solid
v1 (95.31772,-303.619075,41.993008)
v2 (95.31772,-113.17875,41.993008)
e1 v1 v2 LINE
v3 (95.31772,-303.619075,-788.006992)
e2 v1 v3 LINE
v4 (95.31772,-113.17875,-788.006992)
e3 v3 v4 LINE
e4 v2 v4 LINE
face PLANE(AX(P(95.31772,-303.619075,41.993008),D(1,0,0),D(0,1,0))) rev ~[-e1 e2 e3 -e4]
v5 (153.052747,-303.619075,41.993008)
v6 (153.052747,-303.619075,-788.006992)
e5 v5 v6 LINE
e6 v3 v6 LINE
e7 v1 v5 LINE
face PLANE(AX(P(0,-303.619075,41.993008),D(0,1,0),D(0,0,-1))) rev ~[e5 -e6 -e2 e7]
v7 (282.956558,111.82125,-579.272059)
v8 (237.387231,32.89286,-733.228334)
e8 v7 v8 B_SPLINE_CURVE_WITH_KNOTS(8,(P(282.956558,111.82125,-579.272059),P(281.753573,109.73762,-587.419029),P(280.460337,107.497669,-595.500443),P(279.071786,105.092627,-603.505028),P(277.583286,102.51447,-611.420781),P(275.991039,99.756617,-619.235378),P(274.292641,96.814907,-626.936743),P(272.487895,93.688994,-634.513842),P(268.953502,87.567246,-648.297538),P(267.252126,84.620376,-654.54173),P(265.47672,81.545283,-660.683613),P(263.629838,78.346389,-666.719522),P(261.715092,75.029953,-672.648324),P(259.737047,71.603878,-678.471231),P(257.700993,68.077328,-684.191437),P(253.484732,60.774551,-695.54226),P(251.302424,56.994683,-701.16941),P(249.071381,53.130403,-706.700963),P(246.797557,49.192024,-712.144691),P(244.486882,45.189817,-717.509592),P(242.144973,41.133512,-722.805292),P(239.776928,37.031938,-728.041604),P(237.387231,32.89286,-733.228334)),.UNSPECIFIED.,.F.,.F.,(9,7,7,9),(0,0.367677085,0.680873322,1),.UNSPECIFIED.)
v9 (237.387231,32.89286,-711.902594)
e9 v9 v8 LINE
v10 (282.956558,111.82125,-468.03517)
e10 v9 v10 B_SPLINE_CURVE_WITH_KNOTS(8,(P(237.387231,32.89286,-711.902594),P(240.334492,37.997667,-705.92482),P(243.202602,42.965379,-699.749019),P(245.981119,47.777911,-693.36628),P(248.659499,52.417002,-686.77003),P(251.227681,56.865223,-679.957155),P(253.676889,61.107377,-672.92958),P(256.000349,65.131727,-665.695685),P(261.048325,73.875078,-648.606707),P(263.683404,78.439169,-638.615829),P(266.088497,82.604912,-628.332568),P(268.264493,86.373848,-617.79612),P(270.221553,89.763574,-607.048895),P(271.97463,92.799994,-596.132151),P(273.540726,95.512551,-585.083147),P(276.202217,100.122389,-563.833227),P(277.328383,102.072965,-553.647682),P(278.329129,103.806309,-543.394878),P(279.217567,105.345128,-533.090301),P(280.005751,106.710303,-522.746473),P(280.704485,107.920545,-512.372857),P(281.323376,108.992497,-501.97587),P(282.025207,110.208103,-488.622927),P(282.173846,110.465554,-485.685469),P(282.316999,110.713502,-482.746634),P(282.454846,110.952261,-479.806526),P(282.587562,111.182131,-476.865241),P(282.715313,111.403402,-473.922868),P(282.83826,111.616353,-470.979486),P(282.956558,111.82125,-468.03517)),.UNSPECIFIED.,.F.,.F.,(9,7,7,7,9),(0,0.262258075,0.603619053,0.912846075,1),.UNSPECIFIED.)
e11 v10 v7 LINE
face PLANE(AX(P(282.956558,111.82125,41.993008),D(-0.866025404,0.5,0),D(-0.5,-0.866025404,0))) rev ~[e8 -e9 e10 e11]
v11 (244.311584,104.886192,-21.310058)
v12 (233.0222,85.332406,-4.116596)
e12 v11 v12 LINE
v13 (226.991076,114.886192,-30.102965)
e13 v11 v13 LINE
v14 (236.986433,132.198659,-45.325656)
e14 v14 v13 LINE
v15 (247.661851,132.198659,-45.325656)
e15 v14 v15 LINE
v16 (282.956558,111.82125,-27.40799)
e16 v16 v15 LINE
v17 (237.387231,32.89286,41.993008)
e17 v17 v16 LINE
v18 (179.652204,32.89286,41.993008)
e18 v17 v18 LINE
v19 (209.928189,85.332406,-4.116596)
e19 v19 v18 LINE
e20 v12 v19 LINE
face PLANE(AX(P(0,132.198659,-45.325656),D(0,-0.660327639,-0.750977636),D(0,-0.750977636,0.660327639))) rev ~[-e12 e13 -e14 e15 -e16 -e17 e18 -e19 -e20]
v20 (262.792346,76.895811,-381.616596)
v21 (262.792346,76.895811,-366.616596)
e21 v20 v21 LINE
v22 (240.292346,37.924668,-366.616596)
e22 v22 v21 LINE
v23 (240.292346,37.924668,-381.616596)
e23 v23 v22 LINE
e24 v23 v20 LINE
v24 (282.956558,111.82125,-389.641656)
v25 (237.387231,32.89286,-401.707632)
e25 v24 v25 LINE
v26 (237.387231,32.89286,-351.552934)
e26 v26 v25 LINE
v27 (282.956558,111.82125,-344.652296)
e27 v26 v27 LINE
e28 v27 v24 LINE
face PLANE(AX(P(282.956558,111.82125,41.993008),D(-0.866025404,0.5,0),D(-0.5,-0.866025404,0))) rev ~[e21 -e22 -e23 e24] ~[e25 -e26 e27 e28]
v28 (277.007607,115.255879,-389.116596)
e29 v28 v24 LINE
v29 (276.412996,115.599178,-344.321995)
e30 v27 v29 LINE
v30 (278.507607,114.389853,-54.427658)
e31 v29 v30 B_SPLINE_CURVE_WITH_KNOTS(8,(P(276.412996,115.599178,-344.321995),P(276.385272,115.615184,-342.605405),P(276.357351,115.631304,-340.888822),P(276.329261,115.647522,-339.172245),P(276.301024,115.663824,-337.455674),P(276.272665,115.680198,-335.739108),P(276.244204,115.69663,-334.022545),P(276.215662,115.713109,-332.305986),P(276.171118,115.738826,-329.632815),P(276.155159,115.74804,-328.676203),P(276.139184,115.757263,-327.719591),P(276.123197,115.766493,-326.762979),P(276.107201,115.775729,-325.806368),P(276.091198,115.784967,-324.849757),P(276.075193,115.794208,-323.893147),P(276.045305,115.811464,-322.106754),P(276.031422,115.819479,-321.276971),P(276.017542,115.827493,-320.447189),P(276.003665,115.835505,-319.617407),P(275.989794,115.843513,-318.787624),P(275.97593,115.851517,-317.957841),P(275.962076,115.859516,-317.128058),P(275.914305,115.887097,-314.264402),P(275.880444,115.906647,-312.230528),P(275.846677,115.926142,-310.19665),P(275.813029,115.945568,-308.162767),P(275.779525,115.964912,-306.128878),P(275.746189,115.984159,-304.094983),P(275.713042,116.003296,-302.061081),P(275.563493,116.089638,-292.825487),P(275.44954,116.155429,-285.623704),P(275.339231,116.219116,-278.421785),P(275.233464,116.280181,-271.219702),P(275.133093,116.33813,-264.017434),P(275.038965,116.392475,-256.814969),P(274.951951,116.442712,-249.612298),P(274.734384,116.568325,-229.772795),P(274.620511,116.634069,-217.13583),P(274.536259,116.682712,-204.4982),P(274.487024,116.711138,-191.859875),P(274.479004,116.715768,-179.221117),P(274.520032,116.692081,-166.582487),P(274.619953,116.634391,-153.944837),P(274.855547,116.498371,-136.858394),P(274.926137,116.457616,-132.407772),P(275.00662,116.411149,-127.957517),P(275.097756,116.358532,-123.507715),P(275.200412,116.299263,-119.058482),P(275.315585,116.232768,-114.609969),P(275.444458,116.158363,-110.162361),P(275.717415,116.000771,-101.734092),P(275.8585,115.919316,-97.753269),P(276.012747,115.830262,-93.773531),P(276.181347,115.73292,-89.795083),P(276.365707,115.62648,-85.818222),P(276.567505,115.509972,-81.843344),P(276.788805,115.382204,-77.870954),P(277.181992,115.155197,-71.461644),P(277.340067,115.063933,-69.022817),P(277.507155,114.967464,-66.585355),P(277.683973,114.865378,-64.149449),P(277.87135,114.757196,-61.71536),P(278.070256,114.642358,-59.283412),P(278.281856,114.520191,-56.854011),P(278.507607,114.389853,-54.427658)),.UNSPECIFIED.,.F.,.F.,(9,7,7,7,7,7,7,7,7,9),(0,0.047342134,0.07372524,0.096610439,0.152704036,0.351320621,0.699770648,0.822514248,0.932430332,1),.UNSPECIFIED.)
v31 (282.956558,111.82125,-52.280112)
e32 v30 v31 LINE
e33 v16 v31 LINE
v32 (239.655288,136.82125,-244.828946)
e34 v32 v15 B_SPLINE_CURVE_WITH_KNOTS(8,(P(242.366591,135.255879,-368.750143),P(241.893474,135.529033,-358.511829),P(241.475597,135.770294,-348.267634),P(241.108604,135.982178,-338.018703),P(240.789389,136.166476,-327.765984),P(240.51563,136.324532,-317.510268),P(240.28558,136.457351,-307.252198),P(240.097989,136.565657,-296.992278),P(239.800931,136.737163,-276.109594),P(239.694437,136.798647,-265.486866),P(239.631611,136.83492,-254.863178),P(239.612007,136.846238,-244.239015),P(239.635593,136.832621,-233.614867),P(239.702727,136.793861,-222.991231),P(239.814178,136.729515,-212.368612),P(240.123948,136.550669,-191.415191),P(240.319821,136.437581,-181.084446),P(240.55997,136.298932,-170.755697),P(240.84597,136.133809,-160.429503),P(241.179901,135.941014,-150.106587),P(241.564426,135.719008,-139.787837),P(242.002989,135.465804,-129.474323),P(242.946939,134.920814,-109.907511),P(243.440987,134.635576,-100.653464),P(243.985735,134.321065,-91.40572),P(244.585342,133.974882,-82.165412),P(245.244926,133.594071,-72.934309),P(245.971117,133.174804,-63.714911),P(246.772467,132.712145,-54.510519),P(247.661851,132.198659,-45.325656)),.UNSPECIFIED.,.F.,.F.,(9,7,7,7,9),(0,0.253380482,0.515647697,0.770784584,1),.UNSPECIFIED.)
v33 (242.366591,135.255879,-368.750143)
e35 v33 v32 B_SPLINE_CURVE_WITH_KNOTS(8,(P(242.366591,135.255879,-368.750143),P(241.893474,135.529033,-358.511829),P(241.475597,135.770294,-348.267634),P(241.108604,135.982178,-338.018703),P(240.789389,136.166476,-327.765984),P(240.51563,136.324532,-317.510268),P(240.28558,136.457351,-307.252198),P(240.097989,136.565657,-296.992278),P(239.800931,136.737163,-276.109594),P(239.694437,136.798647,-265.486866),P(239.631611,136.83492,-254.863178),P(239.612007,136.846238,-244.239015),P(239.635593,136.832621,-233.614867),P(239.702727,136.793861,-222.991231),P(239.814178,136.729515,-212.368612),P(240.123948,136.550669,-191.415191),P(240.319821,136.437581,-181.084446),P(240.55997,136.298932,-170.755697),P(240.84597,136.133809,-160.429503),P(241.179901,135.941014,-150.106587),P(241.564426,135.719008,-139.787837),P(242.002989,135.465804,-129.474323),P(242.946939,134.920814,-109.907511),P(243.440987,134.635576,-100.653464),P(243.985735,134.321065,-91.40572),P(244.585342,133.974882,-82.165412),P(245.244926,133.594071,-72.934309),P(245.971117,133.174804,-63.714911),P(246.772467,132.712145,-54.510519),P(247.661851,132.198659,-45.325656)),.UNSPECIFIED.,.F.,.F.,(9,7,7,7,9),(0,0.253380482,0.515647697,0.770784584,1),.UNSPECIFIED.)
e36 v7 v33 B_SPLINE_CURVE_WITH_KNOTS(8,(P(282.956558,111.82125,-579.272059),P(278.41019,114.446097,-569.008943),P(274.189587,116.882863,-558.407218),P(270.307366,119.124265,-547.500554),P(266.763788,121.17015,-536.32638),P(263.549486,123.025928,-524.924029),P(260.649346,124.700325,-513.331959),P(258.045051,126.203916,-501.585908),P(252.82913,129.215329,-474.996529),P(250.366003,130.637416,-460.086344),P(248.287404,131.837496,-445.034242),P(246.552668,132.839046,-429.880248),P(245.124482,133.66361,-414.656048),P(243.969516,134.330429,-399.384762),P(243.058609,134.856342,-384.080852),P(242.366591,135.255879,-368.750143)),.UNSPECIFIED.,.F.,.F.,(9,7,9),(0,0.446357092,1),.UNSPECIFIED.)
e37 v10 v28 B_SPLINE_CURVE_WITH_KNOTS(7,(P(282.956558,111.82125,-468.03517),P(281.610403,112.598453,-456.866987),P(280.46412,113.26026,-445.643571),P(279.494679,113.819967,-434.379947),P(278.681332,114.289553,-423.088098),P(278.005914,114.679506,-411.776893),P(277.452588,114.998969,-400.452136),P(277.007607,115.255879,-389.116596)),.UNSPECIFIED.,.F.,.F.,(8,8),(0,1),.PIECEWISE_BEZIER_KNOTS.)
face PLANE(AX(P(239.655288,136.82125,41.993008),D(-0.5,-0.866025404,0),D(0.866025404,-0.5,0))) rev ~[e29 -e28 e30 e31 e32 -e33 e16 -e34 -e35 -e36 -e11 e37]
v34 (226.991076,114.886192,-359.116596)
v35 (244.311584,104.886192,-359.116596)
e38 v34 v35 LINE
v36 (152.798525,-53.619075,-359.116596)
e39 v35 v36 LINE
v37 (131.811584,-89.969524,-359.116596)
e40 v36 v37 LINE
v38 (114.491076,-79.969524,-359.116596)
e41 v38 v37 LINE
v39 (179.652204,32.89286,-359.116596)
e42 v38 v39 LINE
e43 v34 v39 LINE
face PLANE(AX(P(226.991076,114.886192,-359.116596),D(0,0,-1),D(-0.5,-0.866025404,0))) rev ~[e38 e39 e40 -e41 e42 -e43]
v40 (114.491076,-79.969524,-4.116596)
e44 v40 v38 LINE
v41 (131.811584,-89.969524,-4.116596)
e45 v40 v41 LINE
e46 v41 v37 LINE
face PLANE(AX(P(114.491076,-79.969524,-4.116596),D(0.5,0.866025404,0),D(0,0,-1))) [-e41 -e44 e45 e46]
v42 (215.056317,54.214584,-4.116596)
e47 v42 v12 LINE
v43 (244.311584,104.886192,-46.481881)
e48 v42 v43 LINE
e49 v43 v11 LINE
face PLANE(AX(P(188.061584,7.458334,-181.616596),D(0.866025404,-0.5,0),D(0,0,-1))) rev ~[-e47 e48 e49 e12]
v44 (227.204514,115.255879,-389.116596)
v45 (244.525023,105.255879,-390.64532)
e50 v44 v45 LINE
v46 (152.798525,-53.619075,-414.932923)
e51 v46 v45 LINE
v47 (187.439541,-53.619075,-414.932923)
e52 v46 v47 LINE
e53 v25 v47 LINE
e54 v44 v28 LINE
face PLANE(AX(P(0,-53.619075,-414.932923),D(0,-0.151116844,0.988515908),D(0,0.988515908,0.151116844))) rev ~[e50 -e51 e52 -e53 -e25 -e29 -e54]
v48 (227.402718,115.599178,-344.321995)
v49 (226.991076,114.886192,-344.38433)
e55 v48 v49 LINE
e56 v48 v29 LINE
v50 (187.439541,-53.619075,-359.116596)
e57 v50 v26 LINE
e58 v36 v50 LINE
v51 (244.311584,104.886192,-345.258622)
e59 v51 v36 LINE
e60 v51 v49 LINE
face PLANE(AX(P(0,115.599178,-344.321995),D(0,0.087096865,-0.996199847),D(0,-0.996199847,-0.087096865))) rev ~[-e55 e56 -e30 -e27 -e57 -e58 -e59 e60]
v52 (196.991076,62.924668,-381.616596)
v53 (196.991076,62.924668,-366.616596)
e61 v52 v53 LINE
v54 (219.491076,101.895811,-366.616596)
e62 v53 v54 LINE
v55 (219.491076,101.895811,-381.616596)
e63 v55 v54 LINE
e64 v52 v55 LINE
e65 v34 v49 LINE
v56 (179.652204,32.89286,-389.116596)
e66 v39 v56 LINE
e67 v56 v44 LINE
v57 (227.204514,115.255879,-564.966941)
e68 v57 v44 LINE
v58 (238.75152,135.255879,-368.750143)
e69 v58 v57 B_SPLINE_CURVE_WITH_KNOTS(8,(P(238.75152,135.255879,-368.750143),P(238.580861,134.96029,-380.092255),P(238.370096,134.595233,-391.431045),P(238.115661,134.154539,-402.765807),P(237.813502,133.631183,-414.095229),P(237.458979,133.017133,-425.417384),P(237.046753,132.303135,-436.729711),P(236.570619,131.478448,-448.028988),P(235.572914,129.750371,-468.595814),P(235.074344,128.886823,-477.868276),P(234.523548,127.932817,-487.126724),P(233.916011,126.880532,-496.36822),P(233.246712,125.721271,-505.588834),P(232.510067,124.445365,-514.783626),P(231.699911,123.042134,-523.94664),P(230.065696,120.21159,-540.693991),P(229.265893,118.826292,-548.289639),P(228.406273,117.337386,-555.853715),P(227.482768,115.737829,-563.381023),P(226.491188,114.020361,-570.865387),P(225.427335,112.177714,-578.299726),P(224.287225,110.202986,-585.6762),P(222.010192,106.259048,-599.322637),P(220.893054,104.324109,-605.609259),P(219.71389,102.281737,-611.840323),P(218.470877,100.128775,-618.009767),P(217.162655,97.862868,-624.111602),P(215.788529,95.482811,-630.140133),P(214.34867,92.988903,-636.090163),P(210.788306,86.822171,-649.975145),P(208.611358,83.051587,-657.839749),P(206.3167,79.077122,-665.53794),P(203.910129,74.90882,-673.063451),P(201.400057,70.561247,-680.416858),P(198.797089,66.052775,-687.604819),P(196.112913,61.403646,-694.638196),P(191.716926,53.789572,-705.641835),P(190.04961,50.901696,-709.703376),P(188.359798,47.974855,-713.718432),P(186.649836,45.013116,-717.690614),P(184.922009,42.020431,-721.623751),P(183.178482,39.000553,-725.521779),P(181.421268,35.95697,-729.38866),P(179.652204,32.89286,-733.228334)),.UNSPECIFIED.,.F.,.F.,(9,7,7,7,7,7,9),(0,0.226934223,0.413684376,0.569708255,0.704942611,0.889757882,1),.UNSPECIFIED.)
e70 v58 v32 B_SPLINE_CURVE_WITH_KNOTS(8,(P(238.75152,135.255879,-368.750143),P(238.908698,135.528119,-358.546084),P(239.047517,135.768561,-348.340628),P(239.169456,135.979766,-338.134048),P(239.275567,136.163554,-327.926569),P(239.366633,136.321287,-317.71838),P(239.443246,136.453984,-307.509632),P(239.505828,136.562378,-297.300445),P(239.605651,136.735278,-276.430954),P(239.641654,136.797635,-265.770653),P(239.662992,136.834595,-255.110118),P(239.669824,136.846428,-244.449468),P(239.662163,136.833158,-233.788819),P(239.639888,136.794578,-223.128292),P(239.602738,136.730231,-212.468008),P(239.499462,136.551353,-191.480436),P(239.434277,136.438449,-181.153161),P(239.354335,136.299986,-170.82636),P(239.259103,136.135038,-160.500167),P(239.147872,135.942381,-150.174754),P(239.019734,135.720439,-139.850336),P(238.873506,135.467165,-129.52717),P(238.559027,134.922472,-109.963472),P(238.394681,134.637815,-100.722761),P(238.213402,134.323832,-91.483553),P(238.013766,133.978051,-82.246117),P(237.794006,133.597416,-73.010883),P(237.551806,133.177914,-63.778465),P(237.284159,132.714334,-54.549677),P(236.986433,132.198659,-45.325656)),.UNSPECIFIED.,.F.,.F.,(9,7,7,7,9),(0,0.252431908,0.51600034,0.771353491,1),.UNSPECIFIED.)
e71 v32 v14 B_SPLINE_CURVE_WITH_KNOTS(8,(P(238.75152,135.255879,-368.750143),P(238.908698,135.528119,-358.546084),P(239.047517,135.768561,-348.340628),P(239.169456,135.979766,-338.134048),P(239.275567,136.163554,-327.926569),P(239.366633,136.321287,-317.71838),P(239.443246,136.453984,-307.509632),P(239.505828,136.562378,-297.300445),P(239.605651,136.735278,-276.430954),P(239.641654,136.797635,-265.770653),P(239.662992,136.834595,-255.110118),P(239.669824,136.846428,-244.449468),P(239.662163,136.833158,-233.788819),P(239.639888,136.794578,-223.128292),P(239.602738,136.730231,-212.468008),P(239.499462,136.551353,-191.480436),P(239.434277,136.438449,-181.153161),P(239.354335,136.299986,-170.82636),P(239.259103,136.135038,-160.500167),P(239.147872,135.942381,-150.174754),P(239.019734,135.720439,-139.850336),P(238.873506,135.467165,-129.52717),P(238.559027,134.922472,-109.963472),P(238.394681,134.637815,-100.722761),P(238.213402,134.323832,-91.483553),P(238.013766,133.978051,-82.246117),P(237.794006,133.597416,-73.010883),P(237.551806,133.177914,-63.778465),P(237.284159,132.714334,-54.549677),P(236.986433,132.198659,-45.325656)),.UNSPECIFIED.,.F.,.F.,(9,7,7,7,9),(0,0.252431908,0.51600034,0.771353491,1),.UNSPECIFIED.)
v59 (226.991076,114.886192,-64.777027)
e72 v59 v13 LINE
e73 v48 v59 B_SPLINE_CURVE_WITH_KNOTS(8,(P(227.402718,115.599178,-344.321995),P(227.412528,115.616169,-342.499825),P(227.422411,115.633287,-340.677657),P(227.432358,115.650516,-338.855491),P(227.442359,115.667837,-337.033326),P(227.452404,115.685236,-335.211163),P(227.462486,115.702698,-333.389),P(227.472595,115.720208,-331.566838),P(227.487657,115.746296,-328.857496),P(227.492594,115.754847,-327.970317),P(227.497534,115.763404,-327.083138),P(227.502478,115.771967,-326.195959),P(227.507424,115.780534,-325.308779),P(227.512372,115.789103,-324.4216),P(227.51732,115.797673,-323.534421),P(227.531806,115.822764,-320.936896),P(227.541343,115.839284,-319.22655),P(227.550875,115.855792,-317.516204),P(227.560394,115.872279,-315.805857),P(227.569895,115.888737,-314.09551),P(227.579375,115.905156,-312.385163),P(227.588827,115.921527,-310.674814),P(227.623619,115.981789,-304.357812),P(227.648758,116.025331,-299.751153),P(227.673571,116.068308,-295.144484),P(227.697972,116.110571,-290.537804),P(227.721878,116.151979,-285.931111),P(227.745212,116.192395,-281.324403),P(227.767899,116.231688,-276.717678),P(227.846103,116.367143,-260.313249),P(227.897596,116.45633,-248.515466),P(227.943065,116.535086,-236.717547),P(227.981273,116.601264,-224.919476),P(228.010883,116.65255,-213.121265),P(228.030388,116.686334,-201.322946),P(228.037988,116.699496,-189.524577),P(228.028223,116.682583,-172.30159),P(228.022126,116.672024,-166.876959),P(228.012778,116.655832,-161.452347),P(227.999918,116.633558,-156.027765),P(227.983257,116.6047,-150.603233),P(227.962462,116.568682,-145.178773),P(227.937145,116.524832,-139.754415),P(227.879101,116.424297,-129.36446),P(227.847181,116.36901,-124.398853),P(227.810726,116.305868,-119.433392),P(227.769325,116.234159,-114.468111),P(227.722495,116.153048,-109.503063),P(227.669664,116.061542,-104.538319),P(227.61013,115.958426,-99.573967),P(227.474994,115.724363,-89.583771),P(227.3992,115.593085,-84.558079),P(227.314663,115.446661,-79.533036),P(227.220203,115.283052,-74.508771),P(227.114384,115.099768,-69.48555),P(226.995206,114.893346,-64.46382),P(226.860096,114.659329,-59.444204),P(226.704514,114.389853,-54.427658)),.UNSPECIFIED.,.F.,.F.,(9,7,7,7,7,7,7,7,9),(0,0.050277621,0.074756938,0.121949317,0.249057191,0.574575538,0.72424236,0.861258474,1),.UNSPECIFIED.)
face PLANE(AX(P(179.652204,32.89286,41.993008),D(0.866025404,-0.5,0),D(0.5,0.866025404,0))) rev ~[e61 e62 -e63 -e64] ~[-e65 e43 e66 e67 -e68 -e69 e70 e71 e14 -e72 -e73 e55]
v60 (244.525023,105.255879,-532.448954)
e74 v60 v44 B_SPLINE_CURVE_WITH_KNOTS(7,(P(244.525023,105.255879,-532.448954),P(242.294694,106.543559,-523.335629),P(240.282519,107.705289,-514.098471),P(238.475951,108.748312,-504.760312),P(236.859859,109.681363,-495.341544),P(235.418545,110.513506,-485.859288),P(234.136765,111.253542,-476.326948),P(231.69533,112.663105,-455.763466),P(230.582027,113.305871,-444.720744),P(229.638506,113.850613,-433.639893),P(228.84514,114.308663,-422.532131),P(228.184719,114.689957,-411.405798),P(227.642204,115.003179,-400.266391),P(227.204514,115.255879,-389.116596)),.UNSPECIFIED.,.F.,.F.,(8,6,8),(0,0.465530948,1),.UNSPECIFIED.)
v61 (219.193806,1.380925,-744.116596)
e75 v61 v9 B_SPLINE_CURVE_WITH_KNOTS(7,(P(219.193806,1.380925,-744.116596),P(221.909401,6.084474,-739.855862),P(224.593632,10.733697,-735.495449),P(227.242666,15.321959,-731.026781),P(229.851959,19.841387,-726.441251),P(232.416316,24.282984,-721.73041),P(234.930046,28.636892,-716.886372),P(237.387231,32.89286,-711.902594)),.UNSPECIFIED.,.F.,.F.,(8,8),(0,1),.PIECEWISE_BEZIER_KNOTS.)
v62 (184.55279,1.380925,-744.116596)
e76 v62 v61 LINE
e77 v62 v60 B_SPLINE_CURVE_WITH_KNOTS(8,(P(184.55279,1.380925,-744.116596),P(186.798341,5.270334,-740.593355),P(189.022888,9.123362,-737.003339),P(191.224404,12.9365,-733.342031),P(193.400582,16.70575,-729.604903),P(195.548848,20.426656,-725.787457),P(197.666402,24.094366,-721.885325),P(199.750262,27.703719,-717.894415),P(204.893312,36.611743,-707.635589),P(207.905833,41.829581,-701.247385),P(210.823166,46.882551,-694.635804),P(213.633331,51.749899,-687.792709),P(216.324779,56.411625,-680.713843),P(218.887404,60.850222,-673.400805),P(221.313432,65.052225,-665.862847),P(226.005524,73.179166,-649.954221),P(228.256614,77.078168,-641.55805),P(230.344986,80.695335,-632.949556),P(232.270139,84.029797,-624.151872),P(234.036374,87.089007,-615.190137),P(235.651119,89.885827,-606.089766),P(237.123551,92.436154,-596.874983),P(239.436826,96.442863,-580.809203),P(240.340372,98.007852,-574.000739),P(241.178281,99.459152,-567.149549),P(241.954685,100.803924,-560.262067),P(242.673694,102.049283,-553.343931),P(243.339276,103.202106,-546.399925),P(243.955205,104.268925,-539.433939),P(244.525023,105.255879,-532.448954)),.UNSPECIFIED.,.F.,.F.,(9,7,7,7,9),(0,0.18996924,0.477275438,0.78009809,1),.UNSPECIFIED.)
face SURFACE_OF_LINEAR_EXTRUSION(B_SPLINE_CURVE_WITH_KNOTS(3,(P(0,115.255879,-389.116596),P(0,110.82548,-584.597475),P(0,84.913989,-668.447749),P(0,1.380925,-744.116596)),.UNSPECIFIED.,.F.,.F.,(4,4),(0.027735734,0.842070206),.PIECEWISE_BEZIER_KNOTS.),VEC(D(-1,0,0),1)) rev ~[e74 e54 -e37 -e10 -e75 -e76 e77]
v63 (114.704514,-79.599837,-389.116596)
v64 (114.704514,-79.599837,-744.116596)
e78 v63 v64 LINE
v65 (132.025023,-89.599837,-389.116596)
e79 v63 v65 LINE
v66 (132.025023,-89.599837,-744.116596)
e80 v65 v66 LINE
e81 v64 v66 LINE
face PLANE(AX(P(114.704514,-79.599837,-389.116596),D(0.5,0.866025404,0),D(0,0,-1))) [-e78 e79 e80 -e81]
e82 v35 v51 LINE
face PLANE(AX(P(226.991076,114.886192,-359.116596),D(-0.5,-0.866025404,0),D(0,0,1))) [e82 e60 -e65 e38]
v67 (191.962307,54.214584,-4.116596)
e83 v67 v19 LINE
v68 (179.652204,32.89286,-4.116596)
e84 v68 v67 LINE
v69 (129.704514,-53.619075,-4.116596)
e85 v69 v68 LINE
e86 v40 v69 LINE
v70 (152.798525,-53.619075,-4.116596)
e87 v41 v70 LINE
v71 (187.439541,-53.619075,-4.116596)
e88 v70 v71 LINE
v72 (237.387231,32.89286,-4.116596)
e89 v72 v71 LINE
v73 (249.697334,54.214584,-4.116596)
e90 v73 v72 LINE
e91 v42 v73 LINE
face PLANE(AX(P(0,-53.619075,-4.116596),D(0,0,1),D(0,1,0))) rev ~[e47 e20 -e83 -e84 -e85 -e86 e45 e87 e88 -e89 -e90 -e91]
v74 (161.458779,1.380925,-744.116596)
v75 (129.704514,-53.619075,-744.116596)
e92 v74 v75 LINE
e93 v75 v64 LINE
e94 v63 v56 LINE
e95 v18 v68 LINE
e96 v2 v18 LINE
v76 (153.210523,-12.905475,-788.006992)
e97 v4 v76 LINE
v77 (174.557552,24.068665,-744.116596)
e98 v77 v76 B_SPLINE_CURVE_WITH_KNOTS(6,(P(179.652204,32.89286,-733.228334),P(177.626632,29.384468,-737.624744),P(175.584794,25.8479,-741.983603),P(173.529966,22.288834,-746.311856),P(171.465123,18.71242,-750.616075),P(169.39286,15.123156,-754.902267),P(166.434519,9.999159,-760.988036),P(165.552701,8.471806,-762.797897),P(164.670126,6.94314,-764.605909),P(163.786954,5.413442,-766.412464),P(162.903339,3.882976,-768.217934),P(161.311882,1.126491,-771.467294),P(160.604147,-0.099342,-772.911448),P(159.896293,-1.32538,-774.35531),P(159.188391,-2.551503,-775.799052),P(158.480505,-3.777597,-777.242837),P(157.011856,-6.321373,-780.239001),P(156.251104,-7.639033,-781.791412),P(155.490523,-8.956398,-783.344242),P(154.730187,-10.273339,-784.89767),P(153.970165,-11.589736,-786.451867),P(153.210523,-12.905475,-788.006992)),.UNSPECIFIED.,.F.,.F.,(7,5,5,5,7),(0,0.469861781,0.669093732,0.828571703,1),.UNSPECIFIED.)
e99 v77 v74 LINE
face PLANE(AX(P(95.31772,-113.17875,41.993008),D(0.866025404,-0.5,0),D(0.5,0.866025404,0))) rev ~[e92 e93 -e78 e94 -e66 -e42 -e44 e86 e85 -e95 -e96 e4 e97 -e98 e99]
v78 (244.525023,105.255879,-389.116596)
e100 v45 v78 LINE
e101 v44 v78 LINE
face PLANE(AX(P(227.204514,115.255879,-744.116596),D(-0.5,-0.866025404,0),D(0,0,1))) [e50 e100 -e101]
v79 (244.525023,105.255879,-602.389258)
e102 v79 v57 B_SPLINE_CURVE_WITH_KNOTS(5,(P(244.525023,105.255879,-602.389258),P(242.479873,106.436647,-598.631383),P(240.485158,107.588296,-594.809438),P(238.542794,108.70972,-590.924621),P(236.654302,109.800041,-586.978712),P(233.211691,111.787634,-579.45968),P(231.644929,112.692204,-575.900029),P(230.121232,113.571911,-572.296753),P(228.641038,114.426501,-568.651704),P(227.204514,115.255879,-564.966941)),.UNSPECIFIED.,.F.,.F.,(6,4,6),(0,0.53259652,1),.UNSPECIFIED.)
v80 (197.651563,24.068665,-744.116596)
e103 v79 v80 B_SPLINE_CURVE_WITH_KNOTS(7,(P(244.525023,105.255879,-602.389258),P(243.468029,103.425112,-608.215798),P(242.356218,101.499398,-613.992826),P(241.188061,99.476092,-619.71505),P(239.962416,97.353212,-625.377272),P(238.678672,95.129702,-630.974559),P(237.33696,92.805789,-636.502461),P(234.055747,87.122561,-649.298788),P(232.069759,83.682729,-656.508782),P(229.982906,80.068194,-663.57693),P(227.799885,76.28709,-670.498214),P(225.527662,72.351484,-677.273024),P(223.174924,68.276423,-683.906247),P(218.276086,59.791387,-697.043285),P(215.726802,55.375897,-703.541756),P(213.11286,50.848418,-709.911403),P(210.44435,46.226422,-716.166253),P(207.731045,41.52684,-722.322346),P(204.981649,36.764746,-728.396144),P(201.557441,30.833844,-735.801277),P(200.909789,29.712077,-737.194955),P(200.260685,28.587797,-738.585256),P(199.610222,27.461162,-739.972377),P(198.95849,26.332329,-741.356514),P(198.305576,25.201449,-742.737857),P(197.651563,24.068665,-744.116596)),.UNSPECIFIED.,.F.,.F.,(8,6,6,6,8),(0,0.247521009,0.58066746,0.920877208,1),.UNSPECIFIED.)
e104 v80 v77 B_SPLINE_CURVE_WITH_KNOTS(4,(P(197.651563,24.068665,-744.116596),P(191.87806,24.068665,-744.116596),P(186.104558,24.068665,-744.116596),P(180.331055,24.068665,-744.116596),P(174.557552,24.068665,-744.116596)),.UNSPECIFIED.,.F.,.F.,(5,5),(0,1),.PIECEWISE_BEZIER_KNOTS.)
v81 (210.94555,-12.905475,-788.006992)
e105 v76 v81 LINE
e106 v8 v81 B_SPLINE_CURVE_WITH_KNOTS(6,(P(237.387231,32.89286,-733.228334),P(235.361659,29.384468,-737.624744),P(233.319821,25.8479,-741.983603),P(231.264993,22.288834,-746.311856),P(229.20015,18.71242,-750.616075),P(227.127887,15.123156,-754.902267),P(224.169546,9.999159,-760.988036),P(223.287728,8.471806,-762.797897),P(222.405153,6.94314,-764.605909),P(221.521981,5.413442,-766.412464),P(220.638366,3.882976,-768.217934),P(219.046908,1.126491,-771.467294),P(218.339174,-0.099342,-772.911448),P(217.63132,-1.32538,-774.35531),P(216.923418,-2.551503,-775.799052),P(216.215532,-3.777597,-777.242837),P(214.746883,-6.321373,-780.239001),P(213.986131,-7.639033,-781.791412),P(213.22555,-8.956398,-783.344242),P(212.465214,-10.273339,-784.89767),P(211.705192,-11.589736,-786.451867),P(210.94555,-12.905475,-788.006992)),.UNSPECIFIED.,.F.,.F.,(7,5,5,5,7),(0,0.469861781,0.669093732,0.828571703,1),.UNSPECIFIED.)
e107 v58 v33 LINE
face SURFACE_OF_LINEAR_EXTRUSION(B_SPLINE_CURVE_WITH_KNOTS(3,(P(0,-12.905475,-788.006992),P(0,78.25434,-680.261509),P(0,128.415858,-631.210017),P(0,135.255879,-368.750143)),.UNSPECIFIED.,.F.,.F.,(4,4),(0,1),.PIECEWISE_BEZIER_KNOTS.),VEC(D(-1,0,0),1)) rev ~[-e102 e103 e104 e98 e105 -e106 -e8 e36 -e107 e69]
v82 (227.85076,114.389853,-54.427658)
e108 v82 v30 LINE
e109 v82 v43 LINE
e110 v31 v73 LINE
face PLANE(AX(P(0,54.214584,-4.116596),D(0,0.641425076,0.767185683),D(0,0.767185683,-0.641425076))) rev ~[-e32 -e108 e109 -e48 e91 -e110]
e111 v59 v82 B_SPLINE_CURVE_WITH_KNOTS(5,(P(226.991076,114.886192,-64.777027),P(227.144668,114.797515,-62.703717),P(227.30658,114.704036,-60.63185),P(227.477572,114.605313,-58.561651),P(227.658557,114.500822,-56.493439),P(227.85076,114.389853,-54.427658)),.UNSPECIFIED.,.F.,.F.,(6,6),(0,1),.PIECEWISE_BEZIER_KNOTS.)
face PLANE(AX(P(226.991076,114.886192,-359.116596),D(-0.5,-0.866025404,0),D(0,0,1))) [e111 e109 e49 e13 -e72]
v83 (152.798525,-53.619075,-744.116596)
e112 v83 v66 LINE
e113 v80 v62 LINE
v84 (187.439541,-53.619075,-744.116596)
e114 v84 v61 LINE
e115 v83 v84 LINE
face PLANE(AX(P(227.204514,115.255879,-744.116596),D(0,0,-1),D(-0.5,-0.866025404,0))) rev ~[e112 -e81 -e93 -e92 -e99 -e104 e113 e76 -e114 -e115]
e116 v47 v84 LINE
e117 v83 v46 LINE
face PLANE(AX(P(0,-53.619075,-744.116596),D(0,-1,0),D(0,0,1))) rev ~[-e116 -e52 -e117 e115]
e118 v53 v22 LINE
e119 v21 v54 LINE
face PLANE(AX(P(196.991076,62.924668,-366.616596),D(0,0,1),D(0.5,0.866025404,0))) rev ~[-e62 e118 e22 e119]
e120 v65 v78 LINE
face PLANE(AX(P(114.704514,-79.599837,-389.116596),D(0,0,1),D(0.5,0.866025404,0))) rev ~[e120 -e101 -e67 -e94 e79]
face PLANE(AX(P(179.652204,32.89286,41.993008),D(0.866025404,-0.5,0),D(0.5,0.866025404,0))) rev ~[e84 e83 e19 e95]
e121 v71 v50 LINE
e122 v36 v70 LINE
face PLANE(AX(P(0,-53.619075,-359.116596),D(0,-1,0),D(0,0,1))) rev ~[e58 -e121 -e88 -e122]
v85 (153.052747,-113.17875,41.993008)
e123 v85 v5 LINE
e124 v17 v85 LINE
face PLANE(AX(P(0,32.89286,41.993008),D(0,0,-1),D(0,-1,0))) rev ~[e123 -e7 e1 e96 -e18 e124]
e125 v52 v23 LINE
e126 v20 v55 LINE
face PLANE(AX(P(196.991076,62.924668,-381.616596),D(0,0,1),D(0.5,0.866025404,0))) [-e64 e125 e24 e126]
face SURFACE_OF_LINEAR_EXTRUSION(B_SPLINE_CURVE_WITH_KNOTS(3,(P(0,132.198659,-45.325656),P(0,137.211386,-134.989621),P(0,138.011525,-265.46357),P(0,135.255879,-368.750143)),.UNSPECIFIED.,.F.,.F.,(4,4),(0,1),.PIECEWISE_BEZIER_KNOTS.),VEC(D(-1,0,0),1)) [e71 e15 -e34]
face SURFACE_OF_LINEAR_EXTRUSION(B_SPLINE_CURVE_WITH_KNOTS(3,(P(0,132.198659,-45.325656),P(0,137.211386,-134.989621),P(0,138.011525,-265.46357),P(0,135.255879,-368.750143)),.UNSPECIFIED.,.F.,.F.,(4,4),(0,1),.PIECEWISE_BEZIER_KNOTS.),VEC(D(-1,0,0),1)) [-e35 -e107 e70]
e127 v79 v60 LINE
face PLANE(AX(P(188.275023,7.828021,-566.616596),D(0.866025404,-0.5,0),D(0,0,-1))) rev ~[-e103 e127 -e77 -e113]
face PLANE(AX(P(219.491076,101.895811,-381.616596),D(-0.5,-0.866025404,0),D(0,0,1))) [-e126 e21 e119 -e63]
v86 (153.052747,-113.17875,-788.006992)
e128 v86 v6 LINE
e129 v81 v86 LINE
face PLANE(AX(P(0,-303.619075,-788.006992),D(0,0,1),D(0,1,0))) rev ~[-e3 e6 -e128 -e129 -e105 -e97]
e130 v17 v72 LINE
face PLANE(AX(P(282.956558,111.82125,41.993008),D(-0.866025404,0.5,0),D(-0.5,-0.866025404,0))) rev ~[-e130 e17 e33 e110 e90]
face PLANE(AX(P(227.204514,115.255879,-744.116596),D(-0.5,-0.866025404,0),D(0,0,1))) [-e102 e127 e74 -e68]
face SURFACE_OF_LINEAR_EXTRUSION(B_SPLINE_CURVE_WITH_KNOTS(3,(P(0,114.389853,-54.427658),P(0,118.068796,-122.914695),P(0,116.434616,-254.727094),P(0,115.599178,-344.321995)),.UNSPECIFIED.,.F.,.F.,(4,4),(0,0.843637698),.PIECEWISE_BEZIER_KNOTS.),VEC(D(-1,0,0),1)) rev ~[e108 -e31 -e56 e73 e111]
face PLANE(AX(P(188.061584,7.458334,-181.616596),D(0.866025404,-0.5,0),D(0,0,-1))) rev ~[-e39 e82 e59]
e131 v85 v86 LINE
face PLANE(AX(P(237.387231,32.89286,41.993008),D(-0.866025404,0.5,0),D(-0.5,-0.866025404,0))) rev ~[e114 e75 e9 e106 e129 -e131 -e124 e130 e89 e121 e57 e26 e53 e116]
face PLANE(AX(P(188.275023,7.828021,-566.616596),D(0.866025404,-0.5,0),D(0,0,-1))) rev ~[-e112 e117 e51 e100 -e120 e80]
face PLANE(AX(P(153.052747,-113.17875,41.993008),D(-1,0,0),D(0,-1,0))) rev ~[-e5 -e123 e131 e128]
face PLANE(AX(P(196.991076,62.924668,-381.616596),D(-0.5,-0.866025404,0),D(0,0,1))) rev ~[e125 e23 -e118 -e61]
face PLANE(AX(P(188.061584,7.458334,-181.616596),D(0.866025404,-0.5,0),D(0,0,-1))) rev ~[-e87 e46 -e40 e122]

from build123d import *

# Parameters (mm, degrees)
EXTRUDE_1_DEPTH          = 300
CUT_EXTRUDE_1_DEPTH      = 1.0000001
CUT_EXTRUDE_1_DEPTH_BACK = 831.0000001
SKETCH_4_W               = 15
SKETCH_4_H               = 45
CUT_EXTRUDE_2_DEPTH      = 258.720162759
SKETCH_4_3_W             = 15
SKETCH_4_3_H             = 45
CUT_EXTRUDE_3_DEPTH      = 20


with BuildPart() as part:
    # 스케치1 → 보스-돌출1 (new body)
    with BuildSketch(Plane(origin=(0, 0, 0), x_dir=(0, 0, -1), z_dir=(1, 0, 0))):
        with BuildLine():
            Line((-41.993007726, 32.892860384), (-41.993007726, -303.619075042))
            Line((-41.993007726, -303.619075042), (788.006992274, -303.619075042))
            Line((788.006992274, -303.619075042), (788.006992274, -12.90547458))
            add(Edge.make_bspline(
                [(788.006992274, -12.90547458), (680.261509472, 78.254339674), (631.210016853, 128.415858034), (368.750142796, 135.255878696)],
                knots=[0, 0, 0, 0, 1, 1, 1, 1], degree=3))
            add(Edge.make_bspline(
                [(45.325655749, 132.198658827), (134.989620851, 137.211386353), (265.463569923, 138.011524869), (368.750142796, 135.255878696)],
                knots=[0, 0, 0, 0, 1, 1, 1, 1], degree=3))
            Line((45.325655749, 132.198658827), (-41.993007726, 32.892860384))
        make_face()
        with BuildLine():
            Line((4.116595834, 54.214584045), (54.427658026, 114.389853292))
            add(Edge.make_bspline(
                [(54.427658026, 114.389853292), (122.914694658, 118.068796405), (254.727094278, 116.434615788), (344.321994749, 115.599177573)],
                knots=[0, 0, 0, 0, 0.843637698, 0.843637698, 0.843637698, 0.843637698], degree=3))
            Line((344.321994749, 115.599177573), (359.116595834, -53.619075042))
            Line((359.116595834, -53.619075042), (4.116595834, -53.619075042))
            Line((4.116595834, -53.619075042), (4.116595834, 54.214584045))
        make_face(mode=Mode.SUBTRACT)
        with BuildLine():
            Line((414.932922958, -53.619075042), (389.116595834, 115.255878696))
            add(Edge.make_bspline(
                [(389.116595834, 115.255878696), (584.597474826, 110.825479528), (668.447748965, 84.913988672), (744.116595834, 1.380924958)],
                knots=[0.027735734, 0.027735734, 0.027735734, 0.027735734, 0.842070206, 0.842070206, 0.842070206, 0.842070206], degree=3))
            Line((744.116595834, 1.380924958), (744.116595834, -53.619075042))
            Line((744.116595834, -53.619075042), (414.932922958, -53.619075042))
        make_face(mode=Mode.SUBTRACT)
    extrude(amount=EXTRUDE_1_DEPTH)

    # 스케치2 → 컷-돌출1 (cut, two sides)
    with BuildSketch(Plane.XY.offset(41.993007726)) as cut_extrude_1_sk:
        Polygon((179.652203691, 32.892860384), (239.655287588, 136.821250303), (282.956557777, 111.821250303), (237.38723061, 32.892860384), (300, 32.892860384), (300, -303.619075042), (341.364714008, -303.619075042), (341.364714008, 251.457374482), (0, 251.457374482), (0, 32.892860384), align=None)
        Polygon((95.31772029, -113.178749697), (179.652203691, 32.892860384), (0, 32.892860384), (0, -303.619075042), (95.31772029, -303.619075042), align=None)
        Polygon((300, 32.892860384), (237.38723061, 32.892860384), (153.052747209, -113.178749697), (153.052747209, -303.619075042), (300, -303.619075042), align=None)
    extrude(amount=CUT_EXTRUDE_1_DEPTH, mode=Mode.SUBTRACT)
    extrude(cut_extrude_1_sk.sketch, amount=-CUT_EXTRUDE_1_DEPTH_BACK, mode=Mode.SUBTRACT)

    # 스케치4 → 컷-돌출2 (cut, through all)
    with BuildSketch(Plane(origin=(120.496126421, -69.568471025, 0), x_dir=(0, 0, 1), z_dir=(-0.866025404, 0.5, 0))):
        with Locations((-374.116595834, 175.489898801)):
            Rectangle(SKETCH_4_W, SKETCH_4_H)
    extrude(amount=-CUT_EXTRUDE_2_DEPTH, mode=Mode.SUBTRACT)

    # 스케치4<3> → 컷-돌출3 (cut)
    with BuildSketch(Plane(origin=(120.496126421, -69.568471025, 0), x_dir=(0, 0, 1), z_dir=(-0.866025404, 0.5, 0))):
        Polygon((-744.116595834, 18.416776129), (-744.116595834, 213.416776129), (-389.116595834, 213.416776129), (-389.116595834, 17.989898801), (-389.116595834, -11.583223871), (-744.116595834, -11.583223871), align=None)
        Polygon((-359.116595834, 18.416776129), (-359.116595834, 212.989898801), (-4.116595834, 212.989898801), (-4.116595834, 17.989898801), (-4.116595834, -12.010101199), (-359.116595834, -12.010101199), align=None)
        with Locations((-374.116595834, 175.489898801)):
            Rectangle(SKETCH_4_3_W, SKETCH_4_3_H)
    extrude(amount=-CUT_EXTRUDE_3_DEPTH, mode=Mode.SUBTRACT)


solid = part.part
